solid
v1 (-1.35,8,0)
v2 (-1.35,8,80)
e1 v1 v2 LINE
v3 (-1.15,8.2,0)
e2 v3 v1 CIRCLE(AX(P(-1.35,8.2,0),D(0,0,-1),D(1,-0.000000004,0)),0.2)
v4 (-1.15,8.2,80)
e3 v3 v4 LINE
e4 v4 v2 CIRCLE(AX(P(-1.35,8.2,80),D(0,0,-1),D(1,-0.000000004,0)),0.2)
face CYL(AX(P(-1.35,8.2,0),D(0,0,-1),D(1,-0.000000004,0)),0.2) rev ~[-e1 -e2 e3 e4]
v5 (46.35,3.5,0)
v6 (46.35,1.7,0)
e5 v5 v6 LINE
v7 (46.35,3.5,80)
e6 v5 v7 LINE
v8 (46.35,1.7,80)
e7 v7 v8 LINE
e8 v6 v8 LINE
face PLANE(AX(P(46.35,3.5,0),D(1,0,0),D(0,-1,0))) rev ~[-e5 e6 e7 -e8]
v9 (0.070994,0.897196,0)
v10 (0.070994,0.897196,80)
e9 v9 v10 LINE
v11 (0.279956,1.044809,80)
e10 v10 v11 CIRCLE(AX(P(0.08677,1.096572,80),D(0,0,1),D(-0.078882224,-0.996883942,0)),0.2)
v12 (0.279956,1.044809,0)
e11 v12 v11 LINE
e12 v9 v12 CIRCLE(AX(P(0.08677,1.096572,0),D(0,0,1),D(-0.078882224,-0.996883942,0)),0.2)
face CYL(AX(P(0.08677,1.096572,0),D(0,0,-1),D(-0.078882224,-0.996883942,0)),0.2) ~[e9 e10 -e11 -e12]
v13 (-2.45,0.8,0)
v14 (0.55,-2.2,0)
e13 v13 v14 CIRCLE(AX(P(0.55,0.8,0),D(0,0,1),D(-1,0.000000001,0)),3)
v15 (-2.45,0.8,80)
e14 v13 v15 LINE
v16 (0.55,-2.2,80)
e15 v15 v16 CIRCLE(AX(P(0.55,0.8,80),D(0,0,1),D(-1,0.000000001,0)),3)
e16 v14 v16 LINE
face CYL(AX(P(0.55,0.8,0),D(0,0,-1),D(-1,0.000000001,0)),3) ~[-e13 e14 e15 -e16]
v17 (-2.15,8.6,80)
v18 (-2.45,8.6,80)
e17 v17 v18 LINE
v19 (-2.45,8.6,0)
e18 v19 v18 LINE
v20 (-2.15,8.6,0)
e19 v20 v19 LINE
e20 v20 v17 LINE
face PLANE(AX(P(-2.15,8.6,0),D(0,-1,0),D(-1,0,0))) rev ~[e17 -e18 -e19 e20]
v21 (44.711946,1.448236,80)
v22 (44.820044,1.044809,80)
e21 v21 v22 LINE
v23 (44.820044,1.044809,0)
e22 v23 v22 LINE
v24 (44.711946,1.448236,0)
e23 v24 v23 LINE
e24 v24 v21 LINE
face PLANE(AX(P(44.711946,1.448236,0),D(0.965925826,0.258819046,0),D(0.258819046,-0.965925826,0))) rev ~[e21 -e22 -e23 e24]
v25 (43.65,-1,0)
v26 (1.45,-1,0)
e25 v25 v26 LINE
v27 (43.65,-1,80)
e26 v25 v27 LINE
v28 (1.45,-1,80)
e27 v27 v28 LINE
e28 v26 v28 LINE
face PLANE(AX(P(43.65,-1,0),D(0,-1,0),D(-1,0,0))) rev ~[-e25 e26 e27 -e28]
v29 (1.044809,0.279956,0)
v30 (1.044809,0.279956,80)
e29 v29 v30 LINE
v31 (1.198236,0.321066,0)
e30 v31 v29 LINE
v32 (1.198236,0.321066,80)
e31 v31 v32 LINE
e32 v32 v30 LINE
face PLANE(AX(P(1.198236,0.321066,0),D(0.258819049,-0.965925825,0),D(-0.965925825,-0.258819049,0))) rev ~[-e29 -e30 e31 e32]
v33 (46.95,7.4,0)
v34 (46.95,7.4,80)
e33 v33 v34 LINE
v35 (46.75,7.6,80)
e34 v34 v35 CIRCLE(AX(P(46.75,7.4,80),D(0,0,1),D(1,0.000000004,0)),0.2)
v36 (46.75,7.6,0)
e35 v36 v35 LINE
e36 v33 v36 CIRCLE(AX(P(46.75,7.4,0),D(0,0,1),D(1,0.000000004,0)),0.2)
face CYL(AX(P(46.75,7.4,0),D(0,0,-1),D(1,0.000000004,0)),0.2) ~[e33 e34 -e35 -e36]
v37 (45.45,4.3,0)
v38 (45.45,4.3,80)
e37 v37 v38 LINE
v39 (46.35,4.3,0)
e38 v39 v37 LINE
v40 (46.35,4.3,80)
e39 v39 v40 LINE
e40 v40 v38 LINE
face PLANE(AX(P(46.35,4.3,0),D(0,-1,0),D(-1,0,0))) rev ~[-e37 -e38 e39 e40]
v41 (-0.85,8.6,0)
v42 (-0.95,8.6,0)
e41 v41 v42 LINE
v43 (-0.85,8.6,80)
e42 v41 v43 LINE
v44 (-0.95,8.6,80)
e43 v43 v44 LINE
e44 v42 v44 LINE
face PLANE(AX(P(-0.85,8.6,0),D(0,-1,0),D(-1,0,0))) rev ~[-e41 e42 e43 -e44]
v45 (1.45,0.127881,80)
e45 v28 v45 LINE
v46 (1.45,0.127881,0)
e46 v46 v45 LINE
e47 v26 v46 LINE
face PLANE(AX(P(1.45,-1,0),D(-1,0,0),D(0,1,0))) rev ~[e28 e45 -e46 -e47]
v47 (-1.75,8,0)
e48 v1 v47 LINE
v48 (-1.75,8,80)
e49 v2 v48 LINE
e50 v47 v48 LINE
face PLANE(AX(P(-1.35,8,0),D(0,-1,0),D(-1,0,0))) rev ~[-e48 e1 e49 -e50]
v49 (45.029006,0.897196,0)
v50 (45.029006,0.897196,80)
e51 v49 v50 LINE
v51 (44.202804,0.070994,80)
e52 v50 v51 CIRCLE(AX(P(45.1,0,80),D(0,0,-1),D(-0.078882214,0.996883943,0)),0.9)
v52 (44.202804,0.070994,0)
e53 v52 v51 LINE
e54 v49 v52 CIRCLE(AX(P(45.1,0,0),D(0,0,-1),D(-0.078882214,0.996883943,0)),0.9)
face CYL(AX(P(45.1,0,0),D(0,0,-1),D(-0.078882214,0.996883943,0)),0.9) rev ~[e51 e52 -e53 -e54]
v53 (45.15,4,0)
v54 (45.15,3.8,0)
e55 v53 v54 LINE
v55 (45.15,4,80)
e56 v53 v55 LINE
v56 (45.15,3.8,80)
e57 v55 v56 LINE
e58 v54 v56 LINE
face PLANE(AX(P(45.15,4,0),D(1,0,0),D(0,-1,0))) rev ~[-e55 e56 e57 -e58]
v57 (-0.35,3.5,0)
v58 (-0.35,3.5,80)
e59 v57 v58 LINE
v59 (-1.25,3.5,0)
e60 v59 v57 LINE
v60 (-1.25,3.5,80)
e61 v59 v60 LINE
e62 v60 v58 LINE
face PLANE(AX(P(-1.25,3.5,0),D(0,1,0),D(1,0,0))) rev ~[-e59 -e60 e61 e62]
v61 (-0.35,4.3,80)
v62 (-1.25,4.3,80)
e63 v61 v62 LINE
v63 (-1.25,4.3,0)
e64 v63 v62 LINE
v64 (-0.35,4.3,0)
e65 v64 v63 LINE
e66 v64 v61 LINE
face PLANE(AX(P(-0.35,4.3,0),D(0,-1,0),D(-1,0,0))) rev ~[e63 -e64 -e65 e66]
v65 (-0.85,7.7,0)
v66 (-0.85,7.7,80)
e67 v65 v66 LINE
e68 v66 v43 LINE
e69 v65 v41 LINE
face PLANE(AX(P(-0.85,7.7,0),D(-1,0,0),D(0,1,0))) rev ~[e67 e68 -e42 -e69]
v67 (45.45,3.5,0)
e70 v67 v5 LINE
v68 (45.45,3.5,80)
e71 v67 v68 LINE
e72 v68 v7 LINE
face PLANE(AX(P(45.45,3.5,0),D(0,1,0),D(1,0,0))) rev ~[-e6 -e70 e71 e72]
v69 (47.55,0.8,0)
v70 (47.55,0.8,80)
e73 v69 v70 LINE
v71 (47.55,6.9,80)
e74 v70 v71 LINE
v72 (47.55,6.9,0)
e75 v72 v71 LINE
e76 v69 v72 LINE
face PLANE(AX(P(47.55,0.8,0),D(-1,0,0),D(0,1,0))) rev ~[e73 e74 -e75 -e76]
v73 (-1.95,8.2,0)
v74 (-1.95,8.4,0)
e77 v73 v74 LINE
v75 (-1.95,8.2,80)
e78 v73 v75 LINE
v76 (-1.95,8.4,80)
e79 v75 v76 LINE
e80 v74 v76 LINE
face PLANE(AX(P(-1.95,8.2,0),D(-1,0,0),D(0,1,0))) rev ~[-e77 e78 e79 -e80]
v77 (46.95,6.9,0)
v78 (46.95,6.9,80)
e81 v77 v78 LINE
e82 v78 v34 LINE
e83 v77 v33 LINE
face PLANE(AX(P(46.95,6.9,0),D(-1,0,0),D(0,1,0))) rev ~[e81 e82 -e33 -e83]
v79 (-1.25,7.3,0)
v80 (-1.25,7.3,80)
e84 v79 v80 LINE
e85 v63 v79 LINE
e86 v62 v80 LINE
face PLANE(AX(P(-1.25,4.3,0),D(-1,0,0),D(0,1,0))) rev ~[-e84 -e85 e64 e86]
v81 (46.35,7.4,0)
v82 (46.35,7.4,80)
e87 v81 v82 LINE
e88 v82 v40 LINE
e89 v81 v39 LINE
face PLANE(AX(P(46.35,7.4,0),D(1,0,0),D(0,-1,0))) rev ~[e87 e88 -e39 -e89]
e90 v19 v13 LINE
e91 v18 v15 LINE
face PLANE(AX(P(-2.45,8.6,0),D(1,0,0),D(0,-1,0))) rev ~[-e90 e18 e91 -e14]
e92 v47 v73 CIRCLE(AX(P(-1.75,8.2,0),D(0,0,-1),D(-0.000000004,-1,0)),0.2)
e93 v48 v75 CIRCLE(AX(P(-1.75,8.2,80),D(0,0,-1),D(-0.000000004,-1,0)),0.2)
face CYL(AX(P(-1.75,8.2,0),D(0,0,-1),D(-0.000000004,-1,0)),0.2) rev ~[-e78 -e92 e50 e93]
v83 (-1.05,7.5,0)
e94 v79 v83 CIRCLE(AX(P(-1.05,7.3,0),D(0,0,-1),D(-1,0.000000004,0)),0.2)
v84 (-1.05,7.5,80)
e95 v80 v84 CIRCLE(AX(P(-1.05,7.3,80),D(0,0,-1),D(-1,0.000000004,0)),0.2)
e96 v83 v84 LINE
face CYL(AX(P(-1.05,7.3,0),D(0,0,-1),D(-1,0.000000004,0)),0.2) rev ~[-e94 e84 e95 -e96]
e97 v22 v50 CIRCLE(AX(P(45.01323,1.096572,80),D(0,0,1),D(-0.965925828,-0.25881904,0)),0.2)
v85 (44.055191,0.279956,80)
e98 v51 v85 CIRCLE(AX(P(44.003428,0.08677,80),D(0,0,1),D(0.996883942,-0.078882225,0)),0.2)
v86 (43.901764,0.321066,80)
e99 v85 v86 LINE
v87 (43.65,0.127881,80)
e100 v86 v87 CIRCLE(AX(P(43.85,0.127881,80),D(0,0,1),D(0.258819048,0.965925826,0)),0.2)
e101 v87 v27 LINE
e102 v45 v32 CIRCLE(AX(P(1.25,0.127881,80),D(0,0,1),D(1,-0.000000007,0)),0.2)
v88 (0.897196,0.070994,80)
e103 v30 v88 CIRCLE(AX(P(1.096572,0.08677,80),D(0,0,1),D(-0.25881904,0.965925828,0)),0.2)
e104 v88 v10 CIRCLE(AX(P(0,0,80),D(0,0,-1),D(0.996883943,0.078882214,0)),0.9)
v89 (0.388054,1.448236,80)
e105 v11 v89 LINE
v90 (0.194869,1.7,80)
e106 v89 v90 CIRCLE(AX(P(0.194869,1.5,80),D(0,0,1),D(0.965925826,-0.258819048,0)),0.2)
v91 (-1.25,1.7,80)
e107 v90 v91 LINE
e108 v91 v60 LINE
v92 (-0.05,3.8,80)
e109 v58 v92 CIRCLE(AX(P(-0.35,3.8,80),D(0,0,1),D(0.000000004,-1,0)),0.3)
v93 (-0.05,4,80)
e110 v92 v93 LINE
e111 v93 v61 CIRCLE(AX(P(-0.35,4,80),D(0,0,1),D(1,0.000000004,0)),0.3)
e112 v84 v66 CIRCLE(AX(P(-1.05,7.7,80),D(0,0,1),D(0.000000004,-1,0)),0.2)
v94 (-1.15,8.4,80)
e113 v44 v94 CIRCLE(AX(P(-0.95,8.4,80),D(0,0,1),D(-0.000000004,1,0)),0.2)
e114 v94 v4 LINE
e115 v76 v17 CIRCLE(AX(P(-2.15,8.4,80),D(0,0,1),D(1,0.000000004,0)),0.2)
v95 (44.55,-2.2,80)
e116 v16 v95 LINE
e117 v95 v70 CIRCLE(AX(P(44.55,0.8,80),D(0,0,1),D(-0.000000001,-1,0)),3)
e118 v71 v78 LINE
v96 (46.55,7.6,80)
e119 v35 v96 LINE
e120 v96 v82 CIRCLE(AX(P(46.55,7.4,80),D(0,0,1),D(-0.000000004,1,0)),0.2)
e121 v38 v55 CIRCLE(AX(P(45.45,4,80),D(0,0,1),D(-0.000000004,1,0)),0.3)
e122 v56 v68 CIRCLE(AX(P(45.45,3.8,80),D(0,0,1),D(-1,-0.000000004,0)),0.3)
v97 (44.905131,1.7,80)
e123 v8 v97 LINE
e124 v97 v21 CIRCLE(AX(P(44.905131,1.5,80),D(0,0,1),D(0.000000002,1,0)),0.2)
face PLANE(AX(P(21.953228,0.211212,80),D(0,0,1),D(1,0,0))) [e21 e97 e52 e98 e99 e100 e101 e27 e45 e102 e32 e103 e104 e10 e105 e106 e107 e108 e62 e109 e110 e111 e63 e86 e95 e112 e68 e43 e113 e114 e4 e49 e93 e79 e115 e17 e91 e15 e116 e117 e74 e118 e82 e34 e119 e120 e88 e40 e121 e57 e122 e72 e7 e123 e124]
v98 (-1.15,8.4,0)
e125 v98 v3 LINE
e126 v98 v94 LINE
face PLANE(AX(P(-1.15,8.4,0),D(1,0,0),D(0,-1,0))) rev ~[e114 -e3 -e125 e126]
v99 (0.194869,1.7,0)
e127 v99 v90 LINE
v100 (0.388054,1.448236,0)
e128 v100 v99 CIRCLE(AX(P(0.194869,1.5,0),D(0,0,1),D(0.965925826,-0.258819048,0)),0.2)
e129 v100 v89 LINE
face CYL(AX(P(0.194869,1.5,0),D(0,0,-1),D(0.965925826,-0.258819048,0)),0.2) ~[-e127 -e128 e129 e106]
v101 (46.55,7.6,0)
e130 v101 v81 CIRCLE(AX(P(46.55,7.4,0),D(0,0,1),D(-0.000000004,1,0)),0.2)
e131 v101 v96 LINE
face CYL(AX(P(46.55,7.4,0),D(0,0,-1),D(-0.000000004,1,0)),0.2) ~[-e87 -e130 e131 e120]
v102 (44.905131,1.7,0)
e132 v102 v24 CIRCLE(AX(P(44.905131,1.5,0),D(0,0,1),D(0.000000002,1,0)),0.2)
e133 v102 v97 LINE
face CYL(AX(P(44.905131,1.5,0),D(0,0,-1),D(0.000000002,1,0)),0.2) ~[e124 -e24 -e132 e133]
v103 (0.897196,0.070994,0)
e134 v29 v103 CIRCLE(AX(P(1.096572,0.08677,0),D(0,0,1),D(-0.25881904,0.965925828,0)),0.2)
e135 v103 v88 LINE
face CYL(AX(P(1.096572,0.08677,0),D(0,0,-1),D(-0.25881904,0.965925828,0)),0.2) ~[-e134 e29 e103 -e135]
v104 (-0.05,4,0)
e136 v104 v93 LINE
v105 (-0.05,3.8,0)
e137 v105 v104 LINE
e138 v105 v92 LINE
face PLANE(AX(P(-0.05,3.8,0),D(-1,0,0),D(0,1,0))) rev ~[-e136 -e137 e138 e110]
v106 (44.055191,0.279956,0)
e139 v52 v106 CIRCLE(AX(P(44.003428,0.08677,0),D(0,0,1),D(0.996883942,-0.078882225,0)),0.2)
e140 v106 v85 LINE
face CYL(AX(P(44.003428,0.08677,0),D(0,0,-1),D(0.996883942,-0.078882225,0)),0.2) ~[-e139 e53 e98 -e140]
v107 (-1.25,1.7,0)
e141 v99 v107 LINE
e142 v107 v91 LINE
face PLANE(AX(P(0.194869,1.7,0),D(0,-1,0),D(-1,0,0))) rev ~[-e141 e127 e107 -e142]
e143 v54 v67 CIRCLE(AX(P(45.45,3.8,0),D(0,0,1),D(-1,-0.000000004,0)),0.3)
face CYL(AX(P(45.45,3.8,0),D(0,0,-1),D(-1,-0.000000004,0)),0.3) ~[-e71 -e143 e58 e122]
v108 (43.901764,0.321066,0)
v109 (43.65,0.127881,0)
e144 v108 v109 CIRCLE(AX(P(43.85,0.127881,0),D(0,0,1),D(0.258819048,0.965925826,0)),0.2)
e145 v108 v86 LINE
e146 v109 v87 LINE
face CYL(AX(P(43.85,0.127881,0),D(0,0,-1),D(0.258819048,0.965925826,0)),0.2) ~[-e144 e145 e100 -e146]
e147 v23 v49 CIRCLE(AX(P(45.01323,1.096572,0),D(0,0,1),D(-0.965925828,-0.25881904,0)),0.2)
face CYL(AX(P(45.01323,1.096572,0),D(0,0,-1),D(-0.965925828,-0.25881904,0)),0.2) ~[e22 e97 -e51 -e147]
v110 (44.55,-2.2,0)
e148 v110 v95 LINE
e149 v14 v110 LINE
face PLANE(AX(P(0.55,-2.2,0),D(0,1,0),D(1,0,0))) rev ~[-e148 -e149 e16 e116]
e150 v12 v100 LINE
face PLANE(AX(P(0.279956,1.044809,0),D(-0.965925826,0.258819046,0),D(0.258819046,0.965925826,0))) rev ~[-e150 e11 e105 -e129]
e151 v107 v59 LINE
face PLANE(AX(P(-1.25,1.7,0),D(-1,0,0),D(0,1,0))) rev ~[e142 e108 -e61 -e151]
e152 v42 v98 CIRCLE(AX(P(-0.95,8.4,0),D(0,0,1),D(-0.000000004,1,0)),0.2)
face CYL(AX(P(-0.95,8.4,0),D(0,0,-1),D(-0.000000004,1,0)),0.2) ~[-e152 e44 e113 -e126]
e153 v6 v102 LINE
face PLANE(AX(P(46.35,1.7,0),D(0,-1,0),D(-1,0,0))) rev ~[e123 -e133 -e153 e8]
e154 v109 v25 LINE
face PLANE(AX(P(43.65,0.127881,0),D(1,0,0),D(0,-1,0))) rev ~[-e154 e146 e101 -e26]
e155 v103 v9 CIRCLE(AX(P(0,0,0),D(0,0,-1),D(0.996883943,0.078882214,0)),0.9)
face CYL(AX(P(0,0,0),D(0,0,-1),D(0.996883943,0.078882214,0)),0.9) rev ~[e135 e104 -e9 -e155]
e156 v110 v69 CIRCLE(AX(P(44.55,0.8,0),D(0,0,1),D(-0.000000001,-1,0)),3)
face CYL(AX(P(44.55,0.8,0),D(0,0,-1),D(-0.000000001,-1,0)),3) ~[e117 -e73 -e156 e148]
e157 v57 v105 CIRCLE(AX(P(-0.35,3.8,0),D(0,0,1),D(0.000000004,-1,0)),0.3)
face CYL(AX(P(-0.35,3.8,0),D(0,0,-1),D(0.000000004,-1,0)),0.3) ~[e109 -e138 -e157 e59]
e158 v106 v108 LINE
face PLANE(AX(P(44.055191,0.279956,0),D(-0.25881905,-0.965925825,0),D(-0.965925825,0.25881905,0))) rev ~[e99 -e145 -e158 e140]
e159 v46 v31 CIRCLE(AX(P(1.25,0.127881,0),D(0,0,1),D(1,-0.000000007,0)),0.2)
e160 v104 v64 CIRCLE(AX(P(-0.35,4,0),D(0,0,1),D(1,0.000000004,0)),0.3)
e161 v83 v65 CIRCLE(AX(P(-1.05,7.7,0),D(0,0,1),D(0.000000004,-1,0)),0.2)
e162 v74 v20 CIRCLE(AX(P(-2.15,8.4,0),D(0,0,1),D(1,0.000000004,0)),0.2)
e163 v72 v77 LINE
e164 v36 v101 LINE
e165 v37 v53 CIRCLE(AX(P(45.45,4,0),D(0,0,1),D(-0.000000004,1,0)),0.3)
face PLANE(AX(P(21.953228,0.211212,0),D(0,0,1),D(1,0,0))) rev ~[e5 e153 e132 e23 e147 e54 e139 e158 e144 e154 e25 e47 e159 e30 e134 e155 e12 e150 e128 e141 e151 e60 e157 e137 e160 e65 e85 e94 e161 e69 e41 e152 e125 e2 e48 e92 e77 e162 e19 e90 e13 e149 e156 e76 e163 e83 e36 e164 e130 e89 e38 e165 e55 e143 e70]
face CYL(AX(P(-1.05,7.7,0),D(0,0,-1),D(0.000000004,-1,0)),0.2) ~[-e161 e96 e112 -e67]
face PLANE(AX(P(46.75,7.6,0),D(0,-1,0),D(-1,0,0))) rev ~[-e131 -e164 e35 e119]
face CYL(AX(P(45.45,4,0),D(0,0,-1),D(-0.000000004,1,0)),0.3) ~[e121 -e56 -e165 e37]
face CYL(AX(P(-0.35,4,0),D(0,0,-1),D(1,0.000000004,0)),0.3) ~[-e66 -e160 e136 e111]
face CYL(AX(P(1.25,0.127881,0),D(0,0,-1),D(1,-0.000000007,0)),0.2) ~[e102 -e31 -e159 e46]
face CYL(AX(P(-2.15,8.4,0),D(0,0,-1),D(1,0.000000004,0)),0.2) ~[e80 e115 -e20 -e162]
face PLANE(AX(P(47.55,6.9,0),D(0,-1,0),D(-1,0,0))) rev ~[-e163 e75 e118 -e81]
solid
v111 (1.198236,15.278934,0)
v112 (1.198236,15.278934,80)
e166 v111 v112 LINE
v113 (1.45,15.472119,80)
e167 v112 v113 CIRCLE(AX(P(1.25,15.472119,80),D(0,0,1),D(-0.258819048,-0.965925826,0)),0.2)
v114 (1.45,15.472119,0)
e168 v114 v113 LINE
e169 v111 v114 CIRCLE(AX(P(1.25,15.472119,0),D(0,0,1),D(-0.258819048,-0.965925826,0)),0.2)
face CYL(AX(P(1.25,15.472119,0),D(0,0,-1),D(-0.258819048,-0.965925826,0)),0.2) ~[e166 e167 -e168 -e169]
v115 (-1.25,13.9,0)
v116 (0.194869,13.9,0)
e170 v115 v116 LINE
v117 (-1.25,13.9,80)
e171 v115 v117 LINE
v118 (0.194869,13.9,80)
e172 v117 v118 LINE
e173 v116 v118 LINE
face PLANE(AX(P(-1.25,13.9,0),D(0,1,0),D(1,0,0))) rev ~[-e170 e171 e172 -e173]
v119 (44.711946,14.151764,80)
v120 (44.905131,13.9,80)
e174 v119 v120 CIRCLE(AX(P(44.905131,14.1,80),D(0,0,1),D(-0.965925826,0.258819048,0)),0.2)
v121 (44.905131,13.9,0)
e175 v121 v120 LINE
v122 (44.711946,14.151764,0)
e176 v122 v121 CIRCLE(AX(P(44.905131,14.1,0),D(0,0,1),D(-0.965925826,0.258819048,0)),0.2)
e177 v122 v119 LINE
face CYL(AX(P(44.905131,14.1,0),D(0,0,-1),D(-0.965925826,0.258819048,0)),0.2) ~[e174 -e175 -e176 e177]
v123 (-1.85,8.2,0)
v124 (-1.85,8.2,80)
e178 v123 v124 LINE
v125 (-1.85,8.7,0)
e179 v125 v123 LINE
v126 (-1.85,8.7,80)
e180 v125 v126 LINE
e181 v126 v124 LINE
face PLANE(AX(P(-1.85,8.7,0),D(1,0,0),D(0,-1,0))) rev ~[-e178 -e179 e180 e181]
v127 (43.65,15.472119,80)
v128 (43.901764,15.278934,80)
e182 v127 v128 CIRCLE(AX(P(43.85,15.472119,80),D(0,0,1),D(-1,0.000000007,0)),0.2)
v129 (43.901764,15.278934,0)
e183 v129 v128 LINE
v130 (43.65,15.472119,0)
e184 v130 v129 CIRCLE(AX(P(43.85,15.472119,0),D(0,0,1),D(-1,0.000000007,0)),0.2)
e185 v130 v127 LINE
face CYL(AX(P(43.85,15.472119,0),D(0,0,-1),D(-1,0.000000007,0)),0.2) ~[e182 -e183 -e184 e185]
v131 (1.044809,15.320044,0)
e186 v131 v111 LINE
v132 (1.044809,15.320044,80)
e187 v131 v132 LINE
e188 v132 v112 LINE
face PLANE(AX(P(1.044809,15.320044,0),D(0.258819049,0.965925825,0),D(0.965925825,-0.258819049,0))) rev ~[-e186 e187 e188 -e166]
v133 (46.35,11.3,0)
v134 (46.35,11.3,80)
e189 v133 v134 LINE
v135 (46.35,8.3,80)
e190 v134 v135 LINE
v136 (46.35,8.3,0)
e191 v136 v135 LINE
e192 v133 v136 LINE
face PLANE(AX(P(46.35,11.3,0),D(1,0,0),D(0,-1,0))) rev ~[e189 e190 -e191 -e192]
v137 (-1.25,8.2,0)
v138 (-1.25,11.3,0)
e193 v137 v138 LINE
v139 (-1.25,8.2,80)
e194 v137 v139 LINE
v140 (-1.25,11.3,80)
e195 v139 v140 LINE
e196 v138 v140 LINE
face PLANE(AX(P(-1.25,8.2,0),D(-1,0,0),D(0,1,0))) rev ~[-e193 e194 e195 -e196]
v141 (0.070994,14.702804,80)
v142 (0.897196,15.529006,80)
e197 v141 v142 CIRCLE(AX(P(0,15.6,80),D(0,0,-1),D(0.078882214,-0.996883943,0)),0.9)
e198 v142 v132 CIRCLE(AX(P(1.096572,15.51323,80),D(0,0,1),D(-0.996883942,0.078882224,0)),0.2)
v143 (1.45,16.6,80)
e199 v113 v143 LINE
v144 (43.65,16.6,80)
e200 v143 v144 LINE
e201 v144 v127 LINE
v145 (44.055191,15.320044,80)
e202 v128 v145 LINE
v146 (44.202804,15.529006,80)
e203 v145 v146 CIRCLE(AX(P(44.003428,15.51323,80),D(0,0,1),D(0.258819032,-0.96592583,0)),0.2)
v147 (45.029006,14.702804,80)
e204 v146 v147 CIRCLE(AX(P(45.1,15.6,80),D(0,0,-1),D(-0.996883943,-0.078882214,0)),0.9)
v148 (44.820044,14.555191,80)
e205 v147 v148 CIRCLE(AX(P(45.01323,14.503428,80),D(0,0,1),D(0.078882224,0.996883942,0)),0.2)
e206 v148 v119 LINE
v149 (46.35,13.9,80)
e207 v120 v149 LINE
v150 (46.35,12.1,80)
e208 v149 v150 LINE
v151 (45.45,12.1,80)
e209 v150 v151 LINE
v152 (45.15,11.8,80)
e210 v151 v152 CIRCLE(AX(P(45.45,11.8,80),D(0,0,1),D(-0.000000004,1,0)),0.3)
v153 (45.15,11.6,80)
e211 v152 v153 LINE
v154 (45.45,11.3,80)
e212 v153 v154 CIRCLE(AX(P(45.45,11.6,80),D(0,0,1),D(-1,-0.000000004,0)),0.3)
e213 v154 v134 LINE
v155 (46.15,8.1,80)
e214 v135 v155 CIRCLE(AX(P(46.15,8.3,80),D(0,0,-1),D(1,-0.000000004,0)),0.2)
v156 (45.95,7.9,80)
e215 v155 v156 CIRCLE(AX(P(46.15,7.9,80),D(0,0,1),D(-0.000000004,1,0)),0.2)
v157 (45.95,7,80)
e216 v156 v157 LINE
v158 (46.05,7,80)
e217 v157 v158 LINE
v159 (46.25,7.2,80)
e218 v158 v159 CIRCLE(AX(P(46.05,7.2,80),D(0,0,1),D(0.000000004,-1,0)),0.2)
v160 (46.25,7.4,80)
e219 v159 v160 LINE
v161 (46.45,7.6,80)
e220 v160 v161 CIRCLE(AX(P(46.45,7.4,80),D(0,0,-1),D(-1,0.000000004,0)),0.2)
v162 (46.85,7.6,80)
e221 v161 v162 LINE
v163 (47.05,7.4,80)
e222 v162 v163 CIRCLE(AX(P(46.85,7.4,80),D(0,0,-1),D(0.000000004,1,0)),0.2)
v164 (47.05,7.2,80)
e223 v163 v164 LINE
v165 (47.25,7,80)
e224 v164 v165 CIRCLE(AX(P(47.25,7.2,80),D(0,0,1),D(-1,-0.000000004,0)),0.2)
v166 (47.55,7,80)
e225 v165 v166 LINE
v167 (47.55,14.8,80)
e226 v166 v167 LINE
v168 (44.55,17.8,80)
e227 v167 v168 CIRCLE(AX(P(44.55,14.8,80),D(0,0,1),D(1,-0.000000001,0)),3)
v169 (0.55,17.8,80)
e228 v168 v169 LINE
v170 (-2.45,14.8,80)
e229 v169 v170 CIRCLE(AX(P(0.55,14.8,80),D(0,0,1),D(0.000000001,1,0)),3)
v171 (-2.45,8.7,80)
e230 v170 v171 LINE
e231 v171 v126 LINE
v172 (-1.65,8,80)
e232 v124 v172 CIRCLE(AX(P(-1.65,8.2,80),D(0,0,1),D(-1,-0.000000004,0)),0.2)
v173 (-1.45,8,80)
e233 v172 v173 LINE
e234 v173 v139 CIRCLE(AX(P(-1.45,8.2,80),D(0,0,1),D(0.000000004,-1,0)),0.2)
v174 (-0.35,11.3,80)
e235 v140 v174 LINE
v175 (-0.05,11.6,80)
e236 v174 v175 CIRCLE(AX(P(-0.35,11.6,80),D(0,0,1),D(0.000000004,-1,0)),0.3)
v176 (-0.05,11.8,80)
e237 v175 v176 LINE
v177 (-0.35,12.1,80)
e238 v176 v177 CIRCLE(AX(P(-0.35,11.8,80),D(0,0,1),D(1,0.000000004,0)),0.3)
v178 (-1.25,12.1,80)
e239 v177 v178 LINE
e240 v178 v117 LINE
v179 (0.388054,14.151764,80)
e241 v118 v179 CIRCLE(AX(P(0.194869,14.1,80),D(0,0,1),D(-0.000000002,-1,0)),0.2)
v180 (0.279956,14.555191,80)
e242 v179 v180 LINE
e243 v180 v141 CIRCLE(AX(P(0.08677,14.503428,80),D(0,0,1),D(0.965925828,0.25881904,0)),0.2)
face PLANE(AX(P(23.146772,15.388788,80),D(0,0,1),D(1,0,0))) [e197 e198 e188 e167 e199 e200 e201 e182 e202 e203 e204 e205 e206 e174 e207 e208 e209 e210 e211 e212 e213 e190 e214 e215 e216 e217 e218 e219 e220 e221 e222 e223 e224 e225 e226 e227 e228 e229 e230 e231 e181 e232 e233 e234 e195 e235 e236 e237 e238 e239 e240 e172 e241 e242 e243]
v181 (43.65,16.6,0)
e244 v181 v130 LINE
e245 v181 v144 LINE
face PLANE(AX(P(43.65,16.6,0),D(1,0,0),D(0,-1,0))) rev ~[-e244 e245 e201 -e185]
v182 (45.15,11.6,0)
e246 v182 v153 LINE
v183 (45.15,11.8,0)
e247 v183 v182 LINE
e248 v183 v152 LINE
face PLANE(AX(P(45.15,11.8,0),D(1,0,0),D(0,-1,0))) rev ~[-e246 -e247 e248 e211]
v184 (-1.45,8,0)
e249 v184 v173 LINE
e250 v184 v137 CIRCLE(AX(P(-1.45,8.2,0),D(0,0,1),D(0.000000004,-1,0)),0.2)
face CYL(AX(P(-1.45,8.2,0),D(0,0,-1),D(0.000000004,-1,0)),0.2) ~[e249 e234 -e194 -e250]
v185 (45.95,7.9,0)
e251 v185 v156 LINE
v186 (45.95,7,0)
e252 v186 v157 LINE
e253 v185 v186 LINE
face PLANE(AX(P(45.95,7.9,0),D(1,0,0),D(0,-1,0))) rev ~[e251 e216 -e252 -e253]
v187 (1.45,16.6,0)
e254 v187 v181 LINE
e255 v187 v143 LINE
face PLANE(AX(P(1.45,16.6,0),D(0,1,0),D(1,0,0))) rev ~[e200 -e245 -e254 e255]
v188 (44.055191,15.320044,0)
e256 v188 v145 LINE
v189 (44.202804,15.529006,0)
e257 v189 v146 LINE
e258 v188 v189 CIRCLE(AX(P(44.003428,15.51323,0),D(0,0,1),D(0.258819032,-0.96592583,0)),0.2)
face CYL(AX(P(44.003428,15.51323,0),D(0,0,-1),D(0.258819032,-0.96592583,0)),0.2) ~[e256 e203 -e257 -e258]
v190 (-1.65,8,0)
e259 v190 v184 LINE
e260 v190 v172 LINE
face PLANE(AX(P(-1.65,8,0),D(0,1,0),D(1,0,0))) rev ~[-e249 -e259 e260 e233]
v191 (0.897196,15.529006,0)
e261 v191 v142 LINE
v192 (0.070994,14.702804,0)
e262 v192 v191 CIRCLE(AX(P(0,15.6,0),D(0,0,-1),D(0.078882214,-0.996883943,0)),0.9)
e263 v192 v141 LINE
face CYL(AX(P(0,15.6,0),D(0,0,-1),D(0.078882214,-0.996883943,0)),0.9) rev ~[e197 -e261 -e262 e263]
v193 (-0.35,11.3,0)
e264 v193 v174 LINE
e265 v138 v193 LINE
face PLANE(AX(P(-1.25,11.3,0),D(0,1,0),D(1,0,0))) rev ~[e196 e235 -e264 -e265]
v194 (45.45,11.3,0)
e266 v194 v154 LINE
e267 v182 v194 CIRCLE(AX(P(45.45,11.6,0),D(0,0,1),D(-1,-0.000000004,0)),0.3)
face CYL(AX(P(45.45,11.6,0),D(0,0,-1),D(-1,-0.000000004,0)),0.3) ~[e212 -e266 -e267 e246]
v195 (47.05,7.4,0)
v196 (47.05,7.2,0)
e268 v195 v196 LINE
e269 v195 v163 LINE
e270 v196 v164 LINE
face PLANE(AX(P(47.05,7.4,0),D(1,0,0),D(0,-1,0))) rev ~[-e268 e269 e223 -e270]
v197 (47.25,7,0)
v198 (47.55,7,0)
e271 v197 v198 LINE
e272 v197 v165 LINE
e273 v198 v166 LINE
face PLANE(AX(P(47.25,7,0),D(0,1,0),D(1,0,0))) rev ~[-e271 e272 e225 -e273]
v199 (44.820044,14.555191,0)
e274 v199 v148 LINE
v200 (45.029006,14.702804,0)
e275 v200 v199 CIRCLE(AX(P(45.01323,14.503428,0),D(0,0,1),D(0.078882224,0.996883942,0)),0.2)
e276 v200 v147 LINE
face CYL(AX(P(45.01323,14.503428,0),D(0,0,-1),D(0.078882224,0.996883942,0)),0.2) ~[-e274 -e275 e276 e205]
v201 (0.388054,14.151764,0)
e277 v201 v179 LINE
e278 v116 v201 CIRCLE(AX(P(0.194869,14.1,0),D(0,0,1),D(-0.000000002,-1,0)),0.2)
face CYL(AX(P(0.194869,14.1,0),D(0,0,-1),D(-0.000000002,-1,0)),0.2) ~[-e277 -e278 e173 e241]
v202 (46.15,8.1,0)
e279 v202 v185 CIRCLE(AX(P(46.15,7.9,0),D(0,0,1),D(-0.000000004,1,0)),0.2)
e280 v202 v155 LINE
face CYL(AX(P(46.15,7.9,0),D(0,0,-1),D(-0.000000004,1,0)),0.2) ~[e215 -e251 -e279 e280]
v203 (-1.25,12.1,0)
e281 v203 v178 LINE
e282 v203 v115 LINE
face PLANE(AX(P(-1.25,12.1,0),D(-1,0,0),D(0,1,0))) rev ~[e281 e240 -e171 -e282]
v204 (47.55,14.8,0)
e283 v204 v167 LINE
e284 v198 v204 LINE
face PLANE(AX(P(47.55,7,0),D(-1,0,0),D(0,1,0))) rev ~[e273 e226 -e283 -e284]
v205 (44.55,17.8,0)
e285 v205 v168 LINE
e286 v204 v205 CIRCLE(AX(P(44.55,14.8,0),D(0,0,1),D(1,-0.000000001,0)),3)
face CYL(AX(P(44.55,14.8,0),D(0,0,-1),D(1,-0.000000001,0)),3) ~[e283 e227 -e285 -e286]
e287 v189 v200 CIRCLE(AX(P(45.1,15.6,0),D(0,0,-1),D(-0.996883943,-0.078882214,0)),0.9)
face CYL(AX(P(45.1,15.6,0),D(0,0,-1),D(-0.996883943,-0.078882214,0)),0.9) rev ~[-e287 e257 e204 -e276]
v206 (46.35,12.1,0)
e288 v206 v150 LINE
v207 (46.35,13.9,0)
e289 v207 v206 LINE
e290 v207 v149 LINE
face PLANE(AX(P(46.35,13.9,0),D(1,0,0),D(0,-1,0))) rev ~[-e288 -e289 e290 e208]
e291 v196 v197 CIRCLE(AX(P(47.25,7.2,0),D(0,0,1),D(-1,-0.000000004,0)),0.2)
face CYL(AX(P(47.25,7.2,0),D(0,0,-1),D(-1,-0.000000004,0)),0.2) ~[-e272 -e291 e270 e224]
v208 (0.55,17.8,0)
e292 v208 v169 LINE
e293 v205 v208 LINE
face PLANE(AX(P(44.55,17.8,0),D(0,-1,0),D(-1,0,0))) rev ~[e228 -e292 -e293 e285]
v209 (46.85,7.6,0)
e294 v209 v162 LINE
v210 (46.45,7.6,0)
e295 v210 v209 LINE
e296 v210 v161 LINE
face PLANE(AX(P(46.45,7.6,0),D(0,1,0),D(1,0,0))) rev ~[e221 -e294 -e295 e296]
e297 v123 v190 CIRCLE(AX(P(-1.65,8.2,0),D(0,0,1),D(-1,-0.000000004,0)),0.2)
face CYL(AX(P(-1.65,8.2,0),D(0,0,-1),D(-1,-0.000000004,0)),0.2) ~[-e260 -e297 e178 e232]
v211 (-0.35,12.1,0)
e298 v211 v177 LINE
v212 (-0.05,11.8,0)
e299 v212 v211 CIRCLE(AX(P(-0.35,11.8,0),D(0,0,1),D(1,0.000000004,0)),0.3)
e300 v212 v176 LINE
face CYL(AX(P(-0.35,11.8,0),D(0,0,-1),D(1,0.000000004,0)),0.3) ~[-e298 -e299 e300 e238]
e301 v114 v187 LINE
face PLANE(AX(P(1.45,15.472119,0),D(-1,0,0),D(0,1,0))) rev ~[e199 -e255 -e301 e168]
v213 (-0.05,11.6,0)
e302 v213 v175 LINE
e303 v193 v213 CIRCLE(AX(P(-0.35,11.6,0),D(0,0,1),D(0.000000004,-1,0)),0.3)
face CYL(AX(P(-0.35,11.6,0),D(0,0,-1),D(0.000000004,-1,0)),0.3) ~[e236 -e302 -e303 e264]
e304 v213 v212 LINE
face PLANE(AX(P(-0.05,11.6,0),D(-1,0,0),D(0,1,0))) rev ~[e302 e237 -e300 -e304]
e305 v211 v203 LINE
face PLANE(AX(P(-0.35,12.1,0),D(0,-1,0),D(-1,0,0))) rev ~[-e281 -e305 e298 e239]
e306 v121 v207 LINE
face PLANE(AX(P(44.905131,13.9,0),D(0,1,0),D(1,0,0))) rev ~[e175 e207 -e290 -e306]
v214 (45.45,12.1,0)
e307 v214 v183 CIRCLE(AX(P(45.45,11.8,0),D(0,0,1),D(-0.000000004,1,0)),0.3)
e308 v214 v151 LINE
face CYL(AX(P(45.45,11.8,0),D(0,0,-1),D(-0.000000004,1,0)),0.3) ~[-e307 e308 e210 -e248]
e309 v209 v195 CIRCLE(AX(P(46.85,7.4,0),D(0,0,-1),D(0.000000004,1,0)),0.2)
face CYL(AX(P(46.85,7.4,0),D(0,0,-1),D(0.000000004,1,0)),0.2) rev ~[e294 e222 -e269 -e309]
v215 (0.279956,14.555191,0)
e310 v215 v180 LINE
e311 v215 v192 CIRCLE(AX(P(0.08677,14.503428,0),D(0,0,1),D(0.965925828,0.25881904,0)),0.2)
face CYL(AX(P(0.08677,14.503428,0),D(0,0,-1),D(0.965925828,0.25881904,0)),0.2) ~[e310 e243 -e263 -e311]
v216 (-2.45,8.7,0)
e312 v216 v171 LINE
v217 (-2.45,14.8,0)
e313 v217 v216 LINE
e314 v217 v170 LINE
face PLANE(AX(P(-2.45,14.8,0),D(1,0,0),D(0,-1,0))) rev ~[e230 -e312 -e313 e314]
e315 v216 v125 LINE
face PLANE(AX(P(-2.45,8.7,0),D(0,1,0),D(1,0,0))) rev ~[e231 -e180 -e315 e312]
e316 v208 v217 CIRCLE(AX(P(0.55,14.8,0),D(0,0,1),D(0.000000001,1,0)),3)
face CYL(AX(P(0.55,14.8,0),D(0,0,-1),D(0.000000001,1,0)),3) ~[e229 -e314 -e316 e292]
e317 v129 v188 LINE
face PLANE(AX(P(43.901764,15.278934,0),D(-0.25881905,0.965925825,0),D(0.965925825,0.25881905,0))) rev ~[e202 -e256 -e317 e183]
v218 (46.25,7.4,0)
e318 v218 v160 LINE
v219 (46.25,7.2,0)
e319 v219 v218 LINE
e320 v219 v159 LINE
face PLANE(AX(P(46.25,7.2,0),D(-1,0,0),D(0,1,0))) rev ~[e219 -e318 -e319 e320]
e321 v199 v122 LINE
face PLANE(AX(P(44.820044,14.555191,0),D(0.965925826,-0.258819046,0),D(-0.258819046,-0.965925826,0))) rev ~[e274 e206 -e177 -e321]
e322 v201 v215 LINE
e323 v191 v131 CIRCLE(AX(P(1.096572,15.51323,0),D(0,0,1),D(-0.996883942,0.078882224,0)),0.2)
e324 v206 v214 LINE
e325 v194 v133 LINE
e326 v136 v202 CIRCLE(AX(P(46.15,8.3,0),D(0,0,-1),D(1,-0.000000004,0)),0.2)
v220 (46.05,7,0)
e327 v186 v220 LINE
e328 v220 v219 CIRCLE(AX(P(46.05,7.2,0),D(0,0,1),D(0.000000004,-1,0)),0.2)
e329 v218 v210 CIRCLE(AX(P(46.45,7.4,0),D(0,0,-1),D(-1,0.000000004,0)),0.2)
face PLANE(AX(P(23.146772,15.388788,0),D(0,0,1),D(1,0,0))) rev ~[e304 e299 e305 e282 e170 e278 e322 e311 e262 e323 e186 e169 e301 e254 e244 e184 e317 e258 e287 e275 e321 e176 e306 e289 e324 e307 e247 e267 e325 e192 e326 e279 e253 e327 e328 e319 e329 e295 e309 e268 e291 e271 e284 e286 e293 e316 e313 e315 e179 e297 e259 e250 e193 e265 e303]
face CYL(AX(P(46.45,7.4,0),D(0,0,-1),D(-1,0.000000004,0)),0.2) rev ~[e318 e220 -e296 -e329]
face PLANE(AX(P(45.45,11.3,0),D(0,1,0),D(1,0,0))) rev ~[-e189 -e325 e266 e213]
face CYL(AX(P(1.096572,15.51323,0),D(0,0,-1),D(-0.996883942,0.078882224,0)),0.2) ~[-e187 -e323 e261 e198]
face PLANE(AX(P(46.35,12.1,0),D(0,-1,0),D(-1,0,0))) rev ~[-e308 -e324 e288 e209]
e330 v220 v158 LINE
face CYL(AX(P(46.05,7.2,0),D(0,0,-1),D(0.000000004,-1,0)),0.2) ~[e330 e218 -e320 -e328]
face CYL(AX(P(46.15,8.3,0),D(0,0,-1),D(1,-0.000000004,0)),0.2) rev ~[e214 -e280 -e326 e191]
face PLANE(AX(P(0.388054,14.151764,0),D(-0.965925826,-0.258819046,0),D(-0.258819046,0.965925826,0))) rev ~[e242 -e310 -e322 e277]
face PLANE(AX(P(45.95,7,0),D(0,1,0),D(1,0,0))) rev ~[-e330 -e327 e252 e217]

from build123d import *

# Parameters (mm, degrees)
EXTRUDE_1_DEPTH = 80
EXTRUDE_2_DEPTH = 80


with BuildPart() as part:
    # 草图5 → 凸台-拉伸1 (new body)
    with BuildSketch(Plane.XY):
        with BuildLine():
            Line((-2.45, 14.8), (-2.45, 8.7))
            Line((-2.45, 8.7), (-1.85, 8.7))
            Line((-1.85, 8.7), (-1.85, 8.2))
            ThreePointArc((-1.85, 8.2), (-1.791421356, 8.058578644), (-1.65, 8))
            Line((-1.65, 8), (-1.45, 8))
            ThreePointArc((-1.45, 8), (-1.308578644, 8.058578644), (-1.25, 8.2))
            Line((-1.25, 8.2), (-1.25, 11.3))
            Line((-1.25, 11.3), (-0.35, 11.3))
            ThreePointArc((-0.35, 11.3), (-0.137867966, 11.387867966), (-0.05, 11.6))
            Line((-0.05, 11.6), (-0.05, 11.8))
            ThreePointArc((-0.05, 11.8), (-0.137867966, 12.012132034), (-0.35, 12.1))
            Line((-0.35, 12.1), (-1.25, 12.1))
            Line((-1.25, 12.1), (-1.25, 13.9))
            Line((-1.25, 13.9), (0.194868553, 13.9))
            ThreePointArc((0.194868553, 13.9), (0.353539221, 13.978247714), (0.388053718, 14.151763809))
            Line((0.388053718, 14.151763809), (0.279955601, 14.555191472))
            ThreePointArc((0.279955601, 14.555191472), (0.202164811, 14.666780466), (0.070993993, 14.702804451))
            ThreePointArc((0.070993993, 14.702804451), (-0.636396103, 16.236396103), (0.897195549, 15.529006007))
            ThreePointArc((0.897195549, 15.529006007), (0.933219534, 15.397835189), (1.044808528, 15.320044399))
            Line((1.044808528, 15.320044399), (1.198236191, 15.27893358))
            ThreePointArc((1.198236191, 15.27893358), (1.371752286, 15.313448077), (1.45, 15.472118746))
            Line((1.45, 15.472118746), (1.45, 16.6))
            Line((1.45, 16.6), (43.65, 16.6))
            Line((43.65, 16.6), (43.65, 15.472118746))
            ThreePointArc((43.65, 15.472118746), (43.728247714, 15.313448077), (43.901763809, 15.27893358))
            Line((43.901763809, 15.27893358), (44.055191471, 15.320044399))
            ThreePointArc((44.055191471, 15.320044399), (44.166780466, 15.397835189), (44.202804451, 15.529006007))
            ThreePointArc((44.202804451, 15.529006007), (45.736396103, 16.236396103), (45.029006007, 14.702804451))
            ThreePointArc((45.029006007, 14.702804451), (44.897835189, 14.666780466), (44.820044399, 14.555191472))
            Line((44.820044399, 14.555191472), (44.711946282, 14.151763809))
            ThreePointArc((44.711946282, 14.151763809), (44.746460779, 13.978247714), (44.905131447, 13.9))
            Line((44.905131447, 13.9), (46.35, 13.9))
            Line((46.35, 13.9), (46.35, 12.1))
            Line((46.35, 12.1), (45.45, 12.1))
            ThreePointArc((45.45, 12.1), (45.237867966, 12.012132034), (45.15, 11.8))
            Line((45.15, 11.8), (45.15, 11.6))
            ThreePointArc((45.15, 11.6), (45.237867966, 11.387867966), (45.45, 11.3))
            Line((45.45, 11.3), (46.35, 11.3))
            Line((46.35, 11.3), (46.35, 8.3))
            ThreePointArc((46.35, 8.3), (46.291421356, 8.158578644), (46.15, 8.1))
            ThreePointArc((46.15, 8.1), (46.008578644, 8.041421356), (45.95, 7.9))
            Line((45.95, 7.9), (45.95, 7))
            Line((45.95, 7), (46.05, 7))
            ThreePointArc((46.05, 7), (46.191421356, 7.058578644), (46.25, 7.2))
            Line((46.25, 7.2), (46.25, 7.4))
            ThreePointArc((46.25, 7.4), (46.308578644, 7.541421356), (46.45, 7.6))
            Line((46.45, 7.6), (46.85, 7.6))
            ThreePointArc((46.85, 7.6), (46.991421356, 7.541421356), (47.05, 7.4))
            Line((47.05, 7.4), (47.05, 7.2))
            ThreePointArc((47.05, 7.2), (47.108578644, 7.058578644), (47.25, 7))
            Line((47.25, 7), (47.55, 7))
            Line((47.55, 7), (47.55, 14.8))
            ThreePointArc((47.55, 14.8), (46.671320344, 16.921320344), (44.55, 17.8))
            Line((44.55, 17.8), (0.55, 17.8))
            ThreePointArc((0.55, 17.8), (-1.571320344, 16.921320344), (-2.45, 14.8))
        make_face()
    extrude(amount=EXTRUDE_1_DEPTH)


with BuildPart() as body_2:
    # 草图5<3> → 凸台-拉伸2 (new body)
    with BuildSketch(Plane.XY):
        with BuildLine():
            Line((47.55, 0.8), (47.55, 6.9))
            Line((47.55, 6.9), (46.95, 6.9))
            Line((46.95, 6.9), (46.95, 7.4))
            ThreePointArc((46.95, 7.4), (46.891421356, 7.541421356), (46.75, 7.6))
            Line((46.75, 7.6), (46.55, 7.6))
            ThreePointArc((46.55, 7.6), (46.408578644, 7.541421356), (46.35, 7.4))
            Line((46.35, 7.4), (46.35, 4.3))
            Line((46.35, 4.3), (45.45, 4.3))
            ThreePointArc((45.45, 4.3), (45.237867966, 4.212132034), (45.15, 4))
            Line((45.15, 4), (45.15, 3.8))
            ThreePointArc((45.15, 3.8), (45.237867966, 3.587867966), (45.45, 3.5))
            Line((45.45, 3.5), (46.35, 3.5))
            Line((46.35, 3.5), (46.35, 1.7))
            Line((46.35, 1.7), (44.905131447, 1.7))
            ThreePointArc((44.905131447, 1.7), (44.746460779, 1.621752286), (44.711946282, 1.448236191))
            Line((44.711946282, 1.448236191), (44.820044399, 1.044808528))
            ThreePointArc((44.820044399, 1.044808528), (44.897835189, 0.933219534), (45.029006007, 0.897195549))
            ThreePointArc((45.029006007, 0.897195549), (45.736396103, -0.636396103), (44.202804451, 0.070993993))
            ThreePointArc((44.202804451, 0.070993993), (44.166780466, 0.202164811), (44.055191471, 0.279955601))
            Line((44.055191471, 0.279955601), (43.901763809, 0.32106642))
            ThreePointArc((43.901763809, 0.32106642), (43.728247714, 0.286551923), (43.65, 0.127881254))
            Line((43.65, 0.127881254), (43.65, -1))
            Line((43.65, -1), (1.45, -1))
            Line((1.45, -1), (1.45, 0.127881254))
            ThreePointArc((1.45, 0.127881254), (1.371752286, 0.286551923), (1.198236191, 0.32106642))
            Line((1.198236191, 0.32106642), (1.044808528, 0.279955601))
            ThreePointArc((1.044808528, 0.279955601), (0.933219534, 0.202164811), (0.897195549, 0.070993993))
            ThreePointArc((0.897195549, 0.070993993), (-0.636396103, -0.636396103), (0.070993993, 0.897195549))
            ThreePointArc((0.070993993, 0.897195549), (0.202164811, 0.933219534), (0.279955601, 1.044808528))
            Line((0.279955601, 1.044808528), (0.388053718, 1.448236191))
            ThreePointArc((0.388053718, 1.448236191), (0.353539221, 1.621752286), (0.194868553, 1.7))
            Line((0.194868553, 1.7), (-1.25, 1.7))
            Line((-1.25, 1.7), (-1.25, 3.5))
            Line((-1.25, 3.5), (-0.35, 3.5))
            ThreePointArc((-0.35, 3.5), (-0.137867966, 3.587867966), (-0.05, 3.8))
            Line((-0.05, 3.8), (-0.05, 4))
            ThreePointArc((-0.05, 4), (-0.137867966, 4.212132034), (-0.35, 4.3))
            Line((-0.35, 4.3), (-1.25, 4.3))
            Line((-1.25, 4.3), (-1.25, 7.3))
            ThreePointArc((-1.25, 7.3), (-1.191421356, 7.441421356), (-1.05, 7.5))
            ThreePointArc((-1.05, 7.5), (-0.908578644, 7.558578644), (-0.85, 7.7))
            Line((-0.85, 7.7), (-0.85, 8.6))
            Line((-0.85, 8.6), (-0.95, 8.6))
            ThreePointArc((-0.95, 8.6), (-1.091421356, 8.541421356), (-1.15, 8.4))
            Line((-1.15, 8.4), (-1.15, 8.2))
            ThreePointArc((-1.15, 8.2), (-1.208578644, 8.058578644), (-1.35, 8))
            Line((-1.35, 8), (-1.75, 8))
            ThreePointArc((-1.75, 8), (-1.891421356, 8.058578644), (-1.95, 8.2))
            Line((-1.95, 8.2), (-1.95, 8.4))
            ThreePointArc((-1.95, 8.4), (-2.008578644, 8.541421356), (-2.15, 8.6))
            Line((-2.15, 8.6), (-2.45, 8.6))
            Line((-2.45, 8.6), (-2.45, 0.8))
            ThreePointArc((-2.45, 0.8), (-1.571320344, -1.321320344), (0.55, -2.2))
            Line((0.55, -2.2), (44.55, -2.2))
            ThreePointArc((44.55, -2.2), (46.671320344, -1.321320344), (47.55, 0.8))
        make_face()
    extrude(amount=EXTRUDE_2_DEPTH)


solid = Compound([part.part, body_2.part])
